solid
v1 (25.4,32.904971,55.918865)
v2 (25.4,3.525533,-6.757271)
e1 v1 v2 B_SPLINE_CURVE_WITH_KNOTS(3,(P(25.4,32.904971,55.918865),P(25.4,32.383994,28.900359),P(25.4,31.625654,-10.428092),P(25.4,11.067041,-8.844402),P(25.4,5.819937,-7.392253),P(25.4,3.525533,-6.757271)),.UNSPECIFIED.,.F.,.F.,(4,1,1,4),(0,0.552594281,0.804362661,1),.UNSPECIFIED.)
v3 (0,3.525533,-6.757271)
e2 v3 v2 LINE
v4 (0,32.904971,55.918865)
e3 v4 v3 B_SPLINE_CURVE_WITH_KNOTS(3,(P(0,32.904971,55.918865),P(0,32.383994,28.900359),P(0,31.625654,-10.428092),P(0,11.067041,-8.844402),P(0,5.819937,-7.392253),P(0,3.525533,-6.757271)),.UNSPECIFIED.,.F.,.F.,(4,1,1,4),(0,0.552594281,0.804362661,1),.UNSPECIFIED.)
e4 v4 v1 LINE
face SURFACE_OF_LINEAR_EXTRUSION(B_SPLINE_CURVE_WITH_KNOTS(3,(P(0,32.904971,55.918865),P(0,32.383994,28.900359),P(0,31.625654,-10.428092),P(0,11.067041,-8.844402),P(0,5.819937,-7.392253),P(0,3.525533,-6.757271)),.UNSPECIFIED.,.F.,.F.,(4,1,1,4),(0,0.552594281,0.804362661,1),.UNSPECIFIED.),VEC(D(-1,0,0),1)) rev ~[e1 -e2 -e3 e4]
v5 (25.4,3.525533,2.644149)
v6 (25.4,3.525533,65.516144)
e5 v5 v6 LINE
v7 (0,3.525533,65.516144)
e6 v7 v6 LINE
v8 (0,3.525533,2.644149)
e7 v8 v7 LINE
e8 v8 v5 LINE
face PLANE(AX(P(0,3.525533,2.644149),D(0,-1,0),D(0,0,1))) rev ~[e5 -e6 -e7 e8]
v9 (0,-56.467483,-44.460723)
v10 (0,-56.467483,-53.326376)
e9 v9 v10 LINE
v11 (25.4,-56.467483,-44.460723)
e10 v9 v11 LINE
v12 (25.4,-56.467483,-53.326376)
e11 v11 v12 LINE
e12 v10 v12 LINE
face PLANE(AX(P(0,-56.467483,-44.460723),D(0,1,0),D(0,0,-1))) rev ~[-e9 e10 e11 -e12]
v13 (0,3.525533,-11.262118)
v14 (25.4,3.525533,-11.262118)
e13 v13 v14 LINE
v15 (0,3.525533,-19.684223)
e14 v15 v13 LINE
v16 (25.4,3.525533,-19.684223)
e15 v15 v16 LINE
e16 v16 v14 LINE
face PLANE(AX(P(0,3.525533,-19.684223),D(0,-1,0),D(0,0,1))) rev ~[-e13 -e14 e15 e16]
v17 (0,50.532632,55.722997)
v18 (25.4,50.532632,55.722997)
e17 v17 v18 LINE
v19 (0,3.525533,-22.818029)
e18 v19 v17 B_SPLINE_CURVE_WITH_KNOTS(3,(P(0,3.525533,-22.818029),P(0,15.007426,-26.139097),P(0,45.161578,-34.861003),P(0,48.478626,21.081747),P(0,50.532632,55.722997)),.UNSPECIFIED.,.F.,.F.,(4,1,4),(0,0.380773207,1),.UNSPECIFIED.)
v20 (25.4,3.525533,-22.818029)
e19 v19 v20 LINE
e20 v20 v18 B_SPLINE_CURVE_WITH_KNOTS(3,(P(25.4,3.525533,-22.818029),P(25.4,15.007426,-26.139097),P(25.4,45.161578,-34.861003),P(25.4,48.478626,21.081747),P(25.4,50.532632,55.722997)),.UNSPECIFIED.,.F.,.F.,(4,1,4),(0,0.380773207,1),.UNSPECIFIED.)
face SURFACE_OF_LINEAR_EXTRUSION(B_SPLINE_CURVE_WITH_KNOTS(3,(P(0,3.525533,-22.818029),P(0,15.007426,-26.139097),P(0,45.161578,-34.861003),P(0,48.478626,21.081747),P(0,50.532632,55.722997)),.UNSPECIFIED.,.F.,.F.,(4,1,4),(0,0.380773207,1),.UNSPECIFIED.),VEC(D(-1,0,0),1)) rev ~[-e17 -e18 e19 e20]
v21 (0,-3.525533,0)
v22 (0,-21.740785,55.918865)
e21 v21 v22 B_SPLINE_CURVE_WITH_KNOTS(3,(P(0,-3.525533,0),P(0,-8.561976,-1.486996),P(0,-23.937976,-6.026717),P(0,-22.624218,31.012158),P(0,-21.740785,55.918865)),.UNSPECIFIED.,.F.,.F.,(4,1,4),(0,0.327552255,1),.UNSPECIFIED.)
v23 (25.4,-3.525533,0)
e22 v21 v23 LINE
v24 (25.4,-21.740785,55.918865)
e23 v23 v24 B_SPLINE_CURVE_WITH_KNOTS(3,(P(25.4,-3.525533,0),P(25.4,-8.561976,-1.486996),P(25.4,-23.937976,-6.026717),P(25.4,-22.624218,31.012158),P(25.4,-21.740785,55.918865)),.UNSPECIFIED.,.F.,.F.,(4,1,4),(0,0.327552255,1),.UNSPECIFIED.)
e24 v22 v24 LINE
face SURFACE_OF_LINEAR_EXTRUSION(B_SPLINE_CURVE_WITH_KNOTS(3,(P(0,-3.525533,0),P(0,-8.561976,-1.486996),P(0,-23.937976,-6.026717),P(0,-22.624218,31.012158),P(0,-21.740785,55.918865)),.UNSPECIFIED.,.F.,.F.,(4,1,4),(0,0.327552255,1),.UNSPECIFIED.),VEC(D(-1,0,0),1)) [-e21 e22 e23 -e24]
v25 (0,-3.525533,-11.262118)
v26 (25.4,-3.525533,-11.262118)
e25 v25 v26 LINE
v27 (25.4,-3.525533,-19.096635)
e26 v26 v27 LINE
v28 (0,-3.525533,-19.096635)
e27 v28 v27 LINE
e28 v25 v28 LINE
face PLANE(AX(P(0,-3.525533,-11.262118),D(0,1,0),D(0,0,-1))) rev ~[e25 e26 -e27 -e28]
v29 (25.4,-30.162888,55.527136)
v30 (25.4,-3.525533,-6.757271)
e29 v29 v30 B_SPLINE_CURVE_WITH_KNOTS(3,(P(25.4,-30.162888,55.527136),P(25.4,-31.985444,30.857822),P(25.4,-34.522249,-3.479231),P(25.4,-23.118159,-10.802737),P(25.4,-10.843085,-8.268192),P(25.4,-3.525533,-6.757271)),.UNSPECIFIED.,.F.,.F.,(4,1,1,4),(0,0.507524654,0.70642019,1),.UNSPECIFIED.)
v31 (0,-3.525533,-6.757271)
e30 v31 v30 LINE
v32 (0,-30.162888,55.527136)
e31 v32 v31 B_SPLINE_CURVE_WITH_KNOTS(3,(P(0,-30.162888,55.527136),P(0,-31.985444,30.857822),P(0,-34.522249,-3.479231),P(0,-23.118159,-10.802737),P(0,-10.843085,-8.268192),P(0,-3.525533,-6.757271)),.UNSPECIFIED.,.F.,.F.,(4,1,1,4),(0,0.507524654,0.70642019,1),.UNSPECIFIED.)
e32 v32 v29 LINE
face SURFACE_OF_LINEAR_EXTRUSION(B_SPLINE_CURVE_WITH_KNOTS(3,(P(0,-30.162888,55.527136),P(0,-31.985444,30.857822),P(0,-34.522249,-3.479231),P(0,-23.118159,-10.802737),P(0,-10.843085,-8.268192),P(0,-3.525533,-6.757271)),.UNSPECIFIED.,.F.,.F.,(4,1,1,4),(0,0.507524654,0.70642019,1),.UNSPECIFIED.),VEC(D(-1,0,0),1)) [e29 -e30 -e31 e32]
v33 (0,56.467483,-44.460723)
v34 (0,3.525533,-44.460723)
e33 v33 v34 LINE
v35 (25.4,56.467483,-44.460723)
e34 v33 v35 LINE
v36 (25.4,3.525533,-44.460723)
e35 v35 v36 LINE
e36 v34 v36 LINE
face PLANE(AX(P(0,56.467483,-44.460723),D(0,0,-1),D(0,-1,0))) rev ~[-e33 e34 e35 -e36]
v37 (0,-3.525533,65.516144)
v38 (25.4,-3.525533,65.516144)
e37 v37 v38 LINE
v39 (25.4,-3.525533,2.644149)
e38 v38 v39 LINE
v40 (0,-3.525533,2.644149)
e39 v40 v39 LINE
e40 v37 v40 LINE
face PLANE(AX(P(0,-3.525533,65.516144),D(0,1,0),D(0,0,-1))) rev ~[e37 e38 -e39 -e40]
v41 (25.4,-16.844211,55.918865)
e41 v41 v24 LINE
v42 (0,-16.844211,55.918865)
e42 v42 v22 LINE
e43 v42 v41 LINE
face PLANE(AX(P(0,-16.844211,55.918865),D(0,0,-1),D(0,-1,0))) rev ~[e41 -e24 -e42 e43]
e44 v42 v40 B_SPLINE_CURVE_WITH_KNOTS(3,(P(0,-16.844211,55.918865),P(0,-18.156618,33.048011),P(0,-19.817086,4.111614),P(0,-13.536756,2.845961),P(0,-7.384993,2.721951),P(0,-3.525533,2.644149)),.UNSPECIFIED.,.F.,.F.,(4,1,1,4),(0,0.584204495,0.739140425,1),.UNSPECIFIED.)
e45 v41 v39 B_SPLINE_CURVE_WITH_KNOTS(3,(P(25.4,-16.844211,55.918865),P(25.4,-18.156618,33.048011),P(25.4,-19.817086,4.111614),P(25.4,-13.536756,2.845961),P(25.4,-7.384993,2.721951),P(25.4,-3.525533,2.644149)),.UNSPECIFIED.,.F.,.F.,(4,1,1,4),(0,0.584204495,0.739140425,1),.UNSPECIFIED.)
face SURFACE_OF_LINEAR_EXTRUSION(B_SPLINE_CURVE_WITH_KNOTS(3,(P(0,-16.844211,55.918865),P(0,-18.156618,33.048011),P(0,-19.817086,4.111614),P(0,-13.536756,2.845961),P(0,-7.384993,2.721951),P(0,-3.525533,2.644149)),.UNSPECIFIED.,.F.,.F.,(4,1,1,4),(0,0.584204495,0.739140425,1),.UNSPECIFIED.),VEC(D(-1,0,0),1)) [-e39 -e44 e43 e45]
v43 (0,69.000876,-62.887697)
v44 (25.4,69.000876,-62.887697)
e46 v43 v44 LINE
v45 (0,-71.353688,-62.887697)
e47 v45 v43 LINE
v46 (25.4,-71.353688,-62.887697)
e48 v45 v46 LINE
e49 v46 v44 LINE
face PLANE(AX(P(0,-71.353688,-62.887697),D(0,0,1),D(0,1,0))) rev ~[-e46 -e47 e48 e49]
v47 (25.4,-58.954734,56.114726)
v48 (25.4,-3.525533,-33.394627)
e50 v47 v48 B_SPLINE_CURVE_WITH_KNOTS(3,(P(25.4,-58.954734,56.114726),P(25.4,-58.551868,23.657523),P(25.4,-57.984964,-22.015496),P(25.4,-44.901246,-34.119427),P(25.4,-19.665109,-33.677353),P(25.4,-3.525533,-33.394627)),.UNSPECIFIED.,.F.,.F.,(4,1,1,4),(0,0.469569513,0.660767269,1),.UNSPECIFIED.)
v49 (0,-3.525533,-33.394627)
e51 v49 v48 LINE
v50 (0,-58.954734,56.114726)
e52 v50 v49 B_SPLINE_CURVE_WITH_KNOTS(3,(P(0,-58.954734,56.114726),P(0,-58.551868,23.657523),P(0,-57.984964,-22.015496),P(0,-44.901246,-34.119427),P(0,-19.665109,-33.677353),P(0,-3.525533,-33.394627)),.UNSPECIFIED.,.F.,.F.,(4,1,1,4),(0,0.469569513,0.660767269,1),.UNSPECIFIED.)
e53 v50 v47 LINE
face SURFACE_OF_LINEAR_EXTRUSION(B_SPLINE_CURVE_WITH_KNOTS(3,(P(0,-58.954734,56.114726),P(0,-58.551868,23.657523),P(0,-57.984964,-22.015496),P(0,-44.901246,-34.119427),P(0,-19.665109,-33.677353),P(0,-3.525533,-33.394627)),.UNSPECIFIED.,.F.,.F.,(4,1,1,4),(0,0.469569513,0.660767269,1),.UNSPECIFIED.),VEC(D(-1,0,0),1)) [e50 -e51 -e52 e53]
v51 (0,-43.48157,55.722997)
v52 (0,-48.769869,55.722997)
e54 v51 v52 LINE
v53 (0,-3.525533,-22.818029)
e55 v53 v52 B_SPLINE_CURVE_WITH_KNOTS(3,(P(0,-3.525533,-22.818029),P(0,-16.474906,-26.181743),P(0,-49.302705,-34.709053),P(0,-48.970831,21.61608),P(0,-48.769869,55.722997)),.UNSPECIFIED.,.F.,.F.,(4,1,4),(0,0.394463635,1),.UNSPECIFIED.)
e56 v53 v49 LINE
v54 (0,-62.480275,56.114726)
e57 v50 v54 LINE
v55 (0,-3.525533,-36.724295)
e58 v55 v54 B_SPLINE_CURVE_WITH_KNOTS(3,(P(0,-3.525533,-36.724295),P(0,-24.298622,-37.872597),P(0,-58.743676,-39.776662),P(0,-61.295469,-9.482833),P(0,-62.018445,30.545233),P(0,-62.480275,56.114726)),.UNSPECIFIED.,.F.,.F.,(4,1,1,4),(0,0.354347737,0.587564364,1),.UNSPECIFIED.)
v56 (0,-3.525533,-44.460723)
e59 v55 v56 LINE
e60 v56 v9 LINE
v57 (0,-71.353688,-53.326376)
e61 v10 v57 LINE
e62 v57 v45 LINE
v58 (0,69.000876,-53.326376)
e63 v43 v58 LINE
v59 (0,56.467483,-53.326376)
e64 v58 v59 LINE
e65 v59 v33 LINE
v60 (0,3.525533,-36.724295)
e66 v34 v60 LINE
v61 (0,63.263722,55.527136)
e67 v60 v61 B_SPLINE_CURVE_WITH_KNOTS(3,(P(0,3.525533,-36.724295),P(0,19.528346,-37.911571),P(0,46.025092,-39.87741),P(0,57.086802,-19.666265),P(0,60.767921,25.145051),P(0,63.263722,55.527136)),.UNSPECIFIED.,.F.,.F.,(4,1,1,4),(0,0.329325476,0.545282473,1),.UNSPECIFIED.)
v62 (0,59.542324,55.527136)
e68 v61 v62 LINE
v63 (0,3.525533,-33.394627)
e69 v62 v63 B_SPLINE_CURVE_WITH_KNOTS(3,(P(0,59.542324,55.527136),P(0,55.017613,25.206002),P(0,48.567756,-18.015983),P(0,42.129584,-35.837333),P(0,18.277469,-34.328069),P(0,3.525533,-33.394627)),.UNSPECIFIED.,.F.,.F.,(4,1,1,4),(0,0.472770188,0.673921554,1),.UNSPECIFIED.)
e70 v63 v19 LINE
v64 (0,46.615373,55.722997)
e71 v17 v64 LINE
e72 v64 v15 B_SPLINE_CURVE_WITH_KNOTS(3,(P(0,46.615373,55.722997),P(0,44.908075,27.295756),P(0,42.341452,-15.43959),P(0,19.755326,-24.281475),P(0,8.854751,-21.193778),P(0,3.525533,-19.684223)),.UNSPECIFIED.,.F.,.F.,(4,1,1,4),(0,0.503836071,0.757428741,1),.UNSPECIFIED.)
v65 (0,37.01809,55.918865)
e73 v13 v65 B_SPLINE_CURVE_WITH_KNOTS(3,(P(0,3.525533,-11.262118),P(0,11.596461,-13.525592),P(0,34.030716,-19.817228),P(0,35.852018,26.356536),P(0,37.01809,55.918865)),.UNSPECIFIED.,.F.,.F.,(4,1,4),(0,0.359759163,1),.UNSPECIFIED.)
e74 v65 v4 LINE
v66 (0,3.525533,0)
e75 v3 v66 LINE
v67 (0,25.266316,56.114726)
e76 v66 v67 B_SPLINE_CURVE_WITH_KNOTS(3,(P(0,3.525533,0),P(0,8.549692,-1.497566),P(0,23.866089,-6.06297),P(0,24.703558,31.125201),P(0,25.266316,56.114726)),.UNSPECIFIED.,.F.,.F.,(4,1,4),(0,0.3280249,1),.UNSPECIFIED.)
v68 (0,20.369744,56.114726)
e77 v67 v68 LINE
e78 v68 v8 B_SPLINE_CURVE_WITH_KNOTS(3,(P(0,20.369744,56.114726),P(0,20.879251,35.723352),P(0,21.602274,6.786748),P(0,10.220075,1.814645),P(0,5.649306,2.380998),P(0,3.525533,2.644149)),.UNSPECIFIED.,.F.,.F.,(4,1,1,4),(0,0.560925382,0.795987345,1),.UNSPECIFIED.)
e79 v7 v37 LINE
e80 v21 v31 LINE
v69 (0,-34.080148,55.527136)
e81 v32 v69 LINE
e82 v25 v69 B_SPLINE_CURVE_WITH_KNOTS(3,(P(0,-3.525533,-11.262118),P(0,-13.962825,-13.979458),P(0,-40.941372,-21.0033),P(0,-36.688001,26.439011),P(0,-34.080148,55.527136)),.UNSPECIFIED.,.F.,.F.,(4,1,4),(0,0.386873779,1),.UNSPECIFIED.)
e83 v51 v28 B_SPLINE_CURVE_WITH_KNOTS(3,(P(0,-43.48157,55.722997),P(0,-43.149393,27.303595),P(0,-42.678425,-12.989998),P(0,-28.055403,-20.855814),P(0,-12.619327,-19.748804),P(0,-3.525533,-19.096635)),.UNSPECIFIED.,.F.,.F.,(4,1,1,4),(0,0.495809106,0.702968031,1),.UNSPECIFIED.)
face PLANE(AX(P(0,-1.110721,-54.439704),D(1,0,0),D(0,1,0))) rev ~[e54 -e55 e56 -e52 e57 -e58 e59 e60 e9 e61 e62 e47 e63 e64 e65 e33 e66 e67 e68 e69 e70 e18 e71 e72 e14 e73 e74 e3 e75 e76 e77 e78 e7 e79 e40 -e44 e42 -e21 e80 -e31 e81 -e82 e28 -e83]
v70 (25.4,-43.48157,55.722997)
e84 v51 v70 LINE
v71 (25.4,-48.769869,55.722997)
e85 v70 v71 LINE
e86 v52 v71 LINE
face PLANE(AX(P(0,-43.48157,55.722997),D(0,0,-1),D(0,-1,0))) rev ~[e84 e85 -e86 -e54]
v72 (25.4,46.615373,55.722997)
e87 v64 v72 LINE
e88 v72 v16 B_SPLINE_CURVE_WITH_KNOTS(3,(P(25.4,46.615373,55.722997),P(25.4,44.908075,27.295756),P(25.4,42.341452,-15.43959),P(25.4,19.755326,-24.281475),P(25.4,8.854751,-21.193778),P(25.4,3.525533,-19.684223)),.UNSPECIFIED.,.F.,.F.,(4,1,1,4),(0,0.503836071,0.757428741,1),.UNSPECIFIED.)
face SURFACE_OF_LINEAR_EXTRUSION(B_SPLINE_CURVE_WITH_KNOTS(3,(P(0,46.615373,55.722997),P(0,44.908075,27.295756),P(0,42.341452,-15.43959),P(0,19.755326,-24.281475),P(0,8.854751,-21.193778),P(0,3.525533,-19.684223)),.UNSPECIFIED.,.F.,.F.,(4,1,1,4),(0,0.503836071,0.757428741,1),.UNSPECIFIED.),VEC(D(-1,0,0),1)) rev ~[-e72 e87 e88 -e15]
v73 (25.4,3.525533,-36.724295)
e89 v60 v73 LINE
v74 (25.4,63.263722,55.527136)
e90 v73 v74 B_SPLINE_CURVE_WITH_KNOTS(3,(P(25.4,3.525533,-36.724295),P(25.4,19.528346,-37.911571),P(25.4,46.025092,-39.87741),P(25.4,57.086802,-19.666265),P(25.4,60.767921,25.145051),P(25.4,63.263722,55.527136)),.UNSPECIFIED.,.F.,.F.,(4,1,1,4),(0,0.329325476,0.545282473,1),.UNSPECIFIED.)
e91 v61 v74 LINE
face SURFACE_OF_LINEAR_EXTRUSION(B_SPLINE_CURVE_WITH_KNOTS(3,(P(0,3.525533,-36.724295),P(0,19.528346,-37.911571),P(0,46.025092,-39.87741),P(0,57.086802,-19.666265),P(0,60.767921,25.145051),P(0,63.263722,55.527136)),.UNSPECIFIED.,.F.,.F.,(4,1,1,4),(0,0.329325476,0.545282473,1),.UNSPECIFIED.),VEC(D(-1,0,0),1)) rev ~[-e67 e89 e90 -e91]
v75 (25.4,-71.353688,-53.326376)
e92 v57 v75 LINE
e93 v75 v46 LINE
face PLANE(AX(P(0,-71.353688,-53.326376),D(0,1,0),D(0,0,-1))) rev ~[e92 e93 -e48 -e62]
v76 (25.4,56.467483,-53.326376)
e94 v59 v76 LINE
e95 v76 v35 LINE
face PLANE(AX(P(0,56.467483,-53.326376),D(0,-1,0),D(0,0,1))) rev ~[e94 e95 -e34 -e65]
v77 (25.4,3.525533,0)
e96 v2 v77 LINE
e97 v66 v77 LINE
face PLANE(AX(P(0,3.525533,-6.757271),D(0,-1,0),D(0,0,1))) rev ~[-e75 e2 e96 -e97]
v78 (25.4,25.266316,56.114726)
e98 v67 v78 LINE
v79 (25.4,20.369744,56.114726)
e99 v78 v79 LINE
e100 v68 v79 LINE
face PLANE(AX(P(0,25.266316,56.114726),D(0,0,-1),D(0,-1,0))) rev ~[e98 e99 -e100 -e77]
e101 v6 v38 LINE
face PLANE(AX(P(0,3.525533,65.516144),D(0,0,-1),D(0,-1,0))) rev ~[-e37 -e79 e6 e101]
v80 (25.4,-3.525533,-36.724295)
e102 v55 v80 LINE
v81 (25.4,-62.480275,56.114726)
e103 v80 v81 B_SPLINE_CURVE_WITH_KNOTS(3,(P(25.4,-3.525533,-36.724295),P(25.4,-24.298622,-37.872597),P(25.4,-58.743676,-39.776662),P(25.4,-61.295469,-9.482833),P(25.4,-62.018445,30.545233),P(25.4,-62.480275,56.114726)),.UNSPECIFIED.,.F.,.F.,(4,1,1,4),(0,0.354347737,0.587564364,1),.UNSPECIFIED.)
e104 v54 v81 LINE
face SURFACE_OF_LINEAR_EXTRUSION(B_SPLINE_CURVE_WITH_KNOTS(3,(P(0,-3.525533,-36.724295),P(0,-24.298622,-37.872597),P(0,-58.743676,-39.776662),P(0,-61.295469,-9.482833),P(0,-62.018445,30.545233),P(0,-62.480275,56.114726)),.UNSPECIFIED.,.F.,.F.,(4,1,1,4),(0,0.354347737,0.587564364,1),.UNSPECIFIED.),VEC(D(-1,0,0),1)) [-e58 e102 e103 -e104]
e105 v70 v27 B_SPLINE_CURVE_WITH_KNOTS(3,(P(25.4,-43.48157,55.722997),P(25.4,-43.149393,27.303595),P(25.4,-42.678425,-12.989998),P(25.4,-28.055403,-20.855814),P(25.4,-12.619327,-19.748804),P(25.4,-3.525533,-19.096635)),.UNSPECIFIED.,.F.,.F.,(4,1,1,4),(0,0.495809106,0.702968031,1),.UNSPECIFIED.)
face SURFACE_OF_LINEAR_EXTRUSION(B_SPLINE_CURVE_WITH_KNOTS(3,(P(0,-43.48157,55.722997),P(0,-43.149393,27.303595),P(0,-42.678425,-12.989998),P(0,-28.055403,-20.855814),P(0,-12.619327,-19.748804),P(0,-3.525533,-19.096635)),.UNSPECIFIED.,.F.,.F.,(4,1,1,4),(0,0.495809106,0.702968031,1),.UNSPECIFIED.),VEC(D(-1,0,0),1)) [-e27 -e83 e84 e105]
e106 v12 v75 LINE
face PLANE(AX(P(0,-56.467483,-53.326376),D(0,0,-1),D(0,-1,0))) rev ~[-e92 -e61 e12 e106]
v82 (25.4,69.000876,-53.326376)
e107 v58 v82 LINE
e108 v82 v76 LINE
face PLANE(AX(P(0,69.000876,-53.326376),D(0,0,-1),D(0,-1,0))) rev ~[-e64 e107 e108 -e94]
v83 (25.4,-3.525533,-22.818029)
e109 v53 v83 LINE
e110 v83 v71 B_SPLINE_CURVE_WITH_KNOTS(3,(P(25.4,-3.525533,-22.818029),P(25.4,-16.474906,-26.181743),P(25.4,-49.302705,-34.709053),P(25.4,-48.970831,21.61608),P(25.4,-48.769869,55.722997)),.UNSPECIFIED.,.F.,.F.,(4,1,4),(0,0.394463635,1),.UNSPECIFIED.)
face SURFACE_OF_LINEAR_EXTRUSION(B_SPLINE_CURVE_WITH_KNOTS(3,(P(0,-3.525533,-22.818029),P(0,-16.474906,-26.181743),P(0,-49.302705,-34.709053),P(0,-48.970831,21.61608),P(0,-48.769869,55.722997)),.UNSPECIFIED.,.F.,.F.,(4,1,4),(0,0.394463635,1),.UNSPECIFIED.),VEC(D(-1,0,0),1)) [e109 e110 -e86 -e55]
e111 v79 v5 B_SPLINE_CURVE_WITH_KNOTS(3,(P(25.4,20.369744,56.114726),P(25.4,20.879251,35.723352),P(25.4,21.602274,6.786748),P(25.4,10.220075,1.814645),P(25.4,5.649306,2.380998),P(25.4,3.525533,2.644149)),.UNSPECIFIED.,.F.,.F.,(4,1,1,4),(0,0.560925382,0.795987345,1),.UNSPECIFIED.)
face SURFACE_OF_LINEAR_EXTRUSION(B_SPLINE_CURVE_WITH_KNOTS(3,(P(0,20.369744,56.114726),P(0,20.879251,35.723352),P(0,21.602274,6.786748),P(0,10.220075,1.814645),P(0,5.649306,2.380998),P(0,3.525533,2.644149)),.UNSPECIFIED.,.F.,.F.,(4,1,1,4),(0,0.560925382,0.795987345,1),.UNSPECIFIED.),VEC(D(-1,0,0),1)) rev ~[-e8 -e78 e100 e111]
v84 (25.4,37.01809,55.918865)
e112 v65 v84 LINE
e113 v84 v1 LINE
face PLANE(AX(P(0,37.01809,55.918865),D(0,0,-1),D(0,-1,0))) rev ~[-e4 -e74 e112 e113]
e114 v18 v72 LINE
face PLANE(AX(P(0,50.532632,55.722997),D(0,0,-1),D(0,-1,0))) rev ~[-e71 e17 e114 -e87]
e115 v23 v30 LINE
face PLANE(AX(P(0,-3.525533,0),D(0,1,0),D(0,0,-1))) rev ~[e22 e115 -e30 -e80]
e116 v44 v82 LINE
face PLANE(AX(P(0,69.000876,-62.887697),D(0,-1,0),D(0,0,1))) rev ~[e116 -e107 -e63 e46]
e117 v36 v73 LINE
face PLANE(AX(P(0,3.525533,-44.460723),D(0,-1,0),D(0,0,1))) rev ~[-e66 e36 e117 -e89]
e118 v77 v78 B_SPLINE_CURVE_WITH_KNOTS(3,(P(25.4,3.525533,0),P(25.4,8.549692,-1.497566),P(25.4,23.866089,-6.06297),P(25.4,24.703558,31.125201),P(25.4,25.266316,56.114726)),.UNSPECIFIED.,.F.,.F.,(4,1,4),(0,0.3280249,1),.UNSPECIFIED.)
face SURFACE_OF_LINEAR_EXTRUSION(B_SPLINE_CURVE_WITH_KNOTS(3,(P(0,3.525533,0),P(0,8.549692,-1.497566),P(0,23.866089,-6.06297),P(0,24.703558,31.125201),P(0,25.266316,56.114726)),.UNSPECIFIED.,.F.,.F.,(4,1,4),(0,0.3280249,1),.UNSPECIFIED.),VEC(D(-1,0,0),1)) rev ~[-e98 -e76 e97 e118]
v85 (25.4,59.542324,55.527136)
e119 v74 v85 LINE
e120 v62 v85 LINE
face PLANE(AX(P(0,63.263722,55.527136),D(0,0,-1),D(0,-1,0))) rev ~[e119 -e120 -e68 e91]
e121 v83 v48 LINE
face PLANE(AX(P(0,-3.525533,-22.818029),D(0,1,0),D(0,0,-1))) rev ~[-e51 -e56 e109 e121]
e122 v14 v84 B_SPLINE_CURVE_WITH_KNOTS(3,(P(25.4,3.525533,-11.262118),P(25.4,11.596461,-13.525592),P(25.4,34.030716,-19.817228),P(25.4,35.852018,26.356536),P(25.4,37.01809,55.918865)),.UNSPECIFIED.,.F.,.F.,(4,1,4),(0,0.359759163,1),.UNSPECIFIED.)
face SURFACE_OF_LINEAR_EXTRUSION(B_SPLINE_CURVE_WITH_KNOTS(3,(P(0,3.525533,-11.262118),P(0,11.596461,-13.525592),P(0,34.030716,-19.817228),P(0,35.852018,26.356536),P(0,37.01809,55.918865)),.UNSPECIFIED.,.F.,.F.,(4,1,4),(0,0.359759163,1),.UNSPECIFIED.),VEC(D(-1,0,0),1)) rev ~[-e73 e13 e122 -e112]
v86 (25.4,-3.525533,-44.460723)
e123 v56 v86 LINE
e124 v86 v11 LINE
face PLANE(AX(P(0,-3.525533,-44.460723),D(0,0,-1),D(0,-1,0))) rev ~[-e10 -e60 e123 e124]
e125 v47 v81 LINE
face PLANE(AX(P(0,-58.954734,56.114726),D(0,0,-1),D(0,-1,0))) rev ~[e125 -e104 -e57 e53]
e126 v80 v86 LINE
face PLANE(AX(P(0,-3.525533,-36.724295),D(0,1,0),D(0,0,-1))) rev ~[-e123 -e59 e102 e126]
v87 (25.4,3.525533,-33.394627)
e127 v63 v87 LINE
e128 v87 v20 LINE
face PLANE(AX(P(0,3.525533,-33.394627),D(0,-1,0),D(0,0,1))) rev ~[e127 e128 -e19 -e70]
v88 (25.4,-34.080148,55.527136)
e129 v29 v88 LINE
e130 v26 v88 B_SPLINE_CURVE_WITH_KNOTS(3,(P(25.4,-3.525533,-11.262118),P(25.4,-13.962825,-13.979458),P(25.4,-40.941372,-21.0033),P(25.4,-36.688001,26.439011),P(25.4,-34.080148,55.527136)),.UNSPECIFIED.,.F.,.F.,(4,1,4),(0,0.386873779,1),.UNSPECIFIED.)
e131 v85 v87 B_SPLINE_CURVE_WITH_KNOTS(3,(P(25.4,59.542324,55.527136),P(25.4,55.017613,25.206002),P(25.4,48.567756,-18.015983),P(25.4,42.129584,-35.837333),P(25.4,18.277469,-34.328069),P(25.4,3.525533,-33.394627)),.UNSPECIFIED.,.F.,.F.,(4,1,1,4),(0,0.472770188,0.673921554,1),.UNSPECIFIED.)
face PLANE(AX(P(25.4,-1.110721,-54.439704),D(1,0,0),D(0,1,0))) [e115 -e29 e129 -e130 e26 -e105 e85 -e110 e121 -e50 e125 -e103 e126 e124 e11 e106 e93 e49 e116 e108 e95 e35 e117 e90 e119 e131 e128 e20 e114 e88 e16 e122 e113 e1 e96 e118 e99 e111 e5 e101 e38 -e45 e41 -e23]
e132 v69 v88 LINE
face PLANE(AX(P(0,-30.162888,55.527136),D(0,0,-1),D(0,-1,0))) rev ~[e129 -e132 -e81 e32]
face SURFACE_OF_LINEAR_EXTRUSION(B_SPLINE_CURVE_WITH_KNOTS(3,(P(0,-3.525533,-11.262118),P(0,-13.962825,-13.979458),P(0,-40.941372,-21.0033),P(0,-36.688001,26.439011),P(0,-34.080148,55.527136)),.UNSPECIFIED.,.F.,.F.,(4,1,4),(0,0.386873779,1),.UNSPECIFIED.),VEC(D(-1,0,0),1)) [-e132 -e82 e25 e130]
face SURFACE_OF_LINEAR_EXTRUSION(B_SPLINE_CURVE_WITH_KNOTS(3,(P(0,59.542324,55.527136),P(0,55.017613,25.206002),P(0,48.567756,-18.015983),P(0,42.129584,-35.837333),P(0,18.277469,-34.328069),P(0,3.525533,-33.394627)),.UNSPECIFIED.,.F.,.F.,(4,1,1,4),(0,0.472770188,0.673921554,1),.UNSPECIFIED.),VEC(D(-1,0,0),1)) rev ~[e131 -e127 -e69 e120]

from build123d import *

# Parameters (mm, degrees)
F1_DEPTH = 25.4


with BuildPart() as f1:
    # F0 (on Right) → F1 (new body)
    with BuildSketch(Plane.YZ):
        Polygon((-71.3536882989, -62.8876967296), (69.0008763145, -62.8876967296), (69.0008763145, -53.3263756652), (56.4674834127, -53.3263756652), (56.4674834127, -44.460722529), (3.5255327821, -44.460722529), (-3.5255327821, -44.460722529), (-56.4674834127, -44.460722529), (-56.4674834127, -53.3263756652), (-71.3536882989, -53.3263756652), align=None)
        Polygon((-3.5255327821, -44.460722529), (3.5255327821, -44.460722529), (3.5255327821, -36.7242954671), (3.5255327821, -33.3946272731), (3.5255327821, -22.8180289268), (3.5255327821, -19.6842234582), (3.5255327821, -11.2621178851), (3.5255327821, -6.7572705448), (3.5255327821, 0), (3.5255327821, 2.6441493537), (3.5255327821, 55.5271357298), (3.5255327821, 65.5161440372), (-3.5255327821, 65.5161440372), (-3.5255327821, 55.5271357298), (-3.5255327821, 2.6441493537), (-3.5255327821, 0), (-3.5255327821, -6.7572705448), (-3.5255327821, -11.2621178851), (-3.5255327821, -19.096635282), (-3.5255327821, -22.8180289268), (-3.5255327821, -33.3946272731), (-3.5255327821, -36.7242954671), align=None)
        with BuildLine():
            Line((3.5255327821, -33.3946272731), (3.5255327821, -36.7242954671))
            add(Edge.make_bspline(
                [(3.5255327821, -36.7242954671), (19.5283458683, -37.9115714543), (46.0250919066, -39.8774102191), (57.086801682, -19.6662649434), (60.7679214598, 25.1450505181), (63.2637217641, 55.5271357298)],
                knots=[0, 0, 0, 0, 0.3293254758, 0.5452824731, 1, 1, 1, 1], degree=3))
            Line((63.2637217641, 55.5271357298), (59.542324394, 55.5271357298))
            add(Edge.make_bspline(
                [(59.542324394, 55.5271357298), (55.0176134141, 25.2060017822), (48.567756102, -18.0159826428), (42.1295842811, -35.83733265), (18.2774691458, -34.3280690461), (3.5255327821, -33.3946272731)],
                knots=[0, 0, 0, 0, 0.4727701883, 0.6739215543, 1, 1, 1, 1], degree=3))
        make_face()
        with BuildLine():
            add(Edge.make_bspline(
                [(-3.5255327821, -36.7242954671), (-24.2986218761, -37.8725969995), (-58.7436757829, -39.7766618214), (-61.2954694033, -9.4828326596), (-62.0184453958, 30.5452331605), (-62.4802745879, 56.1147257686)],
                knots=[0, 0, 0, 0, 0.3543477365, 0.5875643641, 1, 1, 1, 1], degree=3))
            Line((-3.5255327821, -36.7242954671), (-3.5255327821, -33.3946272731))
            add(Edge.make_bspline(
                [(-58.9547343552, 56.1147257686), (-58.5518682204, 23.6575228224), (-57.9849643897, -22.0154963092), (-44.9012456447, -34.1194273047), (-19.6651093216, -33.677352688), (-3.5255327821, -33.3946272731)],
                knots=[0, 0, 0, 0, 0.469569513, 0.6607672691, 1, 1, 1, 1], degree=3))
            Line((-58.9547343552, 56.1147257686), (-62.4802745879, 56.1147257686))
        make_face()
        with BuildLine():
            Line((3.5255327821, -19.6842234582), (3.5255327821, -22.8180289268))
            add(Edge.make_bspline(
                [(3.5255327821, -22.8180289268), (15.0074258417, -26.1390970683), (45.1615775397, -34.8610031178), (48.4786261835, 21.0817469198), (50.5326315761, 55.7229965925)],
                knots=[0, 0, 0, 0, 0.3807732074, 1, 1, 1, 1], degree=3))
            Line((50.5326315761, 55.7229965925), (46.6153733432, 55.7229965925))
            add(Edge.make_bspline(
                [(46.6153733432, 55.7229965925), (44.908074699, 27.2957561446), (42.3414520643, -15.4395901418), (19.7553258166, -24.281474601), (8.8547514125, -21.1937779169), (3.5255327821, -19.6842234582)],
                knots=[0, 0, 0, 0, 0.5038360705, 0.757428741, 1, 1, 1, 1], degree=3))
        make_face()
        with BuildLine():
            add(Edge.make_bspline(
                [(-3.5255327821, -22.8180289268), (-16.4749058597, -26.1817426868), (-49.3027052775, -34.7090528466), (-48.9708309091, 21.6160802328), (-48.7698689103, 55.7229965925)],
                knots=[0, 0, 0, 0, 0.3944636347, 1, 1, 1, 1], degree=3))
            Line((-3.5255327821, -22.8180289268), (-3.5255327821, -19.096635282))
            add(Edge.make_bspline(
                [(-43.4815697372, 55.7229965925), (-43.1493925226, 27.3035954994), (-42.6784250485, -12.9899976808), (-28.0554027813, -20.855813996), (-12.619326686, -19.7488037879), (-3.5255327821, -19.096635282)],
                knots=[0, 0, 0, 0, 0.4958091065, 0.7029680312, 1, 1, 1, 1], degree=3))
            Line((-43.4815697372, 55.7229965925), (-48.7698689103, 55.7229965925))
        make_face()
        with BuildLine():
            Line((3.5255327821, -6.7572705448), (3.5255327821, -11.2621178851))
            add(Edge.make_bspline(
                [(3.5255327821, -11.2621178851), (11.5964613447, -13.5255916132), (34.0307157026, -19.8172276939), (35.8520182308, 26.356535863), (37.0180904865, 55.9188649058)],
                knots=[0, 0, 0, 0, 0.3597591627, 1, 1, 1, 1], degree=3))
            Line((37.0180904865, 55.9188649058), (32.904971391, 55.9188649058))
            add(Edge.make_bspline(
                [(32.904971391, 55.9188649058), (32.383994158, 28.9003589611), (31.6256536405, -10.4280924226), (11.0670405767, -8.8444018794), (5.8199367134, -7.3922526292), (3.5255327821, -6.7572705448)],
                knots=[0, 0, 0, 0, 0.5525942812, 0.8043626605, 1, 1, 1, 1], degree=3))
        make_face()
        with BuildLine():
            add(Edge.make_bspline(
                [(-3.5255327821, -11.2621178851), (-13.9628252189, -13.979458265), (-40.9413722155, -21.0033004721), (-36.6880011003, 26.4390107496), (-34.0801477432, 55.5271357298)],
                knots=[0, 0, 0, 0, 0.3868737793, 1, 1, 1, 1], degree=3))
            Line((-3.5255327821, -11.2621178851), (-3.5255327821, -6.7572705448))
            add(Edge.make_bspline(
                [(-30.1628876477, 55.5271357298), (-31.985444285, 30.8578224877), (-34.5222487441, -3.4792305049), (-23.1181589343, -10.8027369268), (-10.8430847617, -8.2681915567), (-3.5255327821, -6.7572705448)],
                knots=[0, 0, 0, 0, 0.5075246544, 0.7064201903, 1, 1, 1, 1], degree=3))
            Line((-30.1628876477, 55.5271357298), (-34.0801477432, 55.5271357298))
        make_face()
        with BuildLine():
            Line((3.5255327821, 2.6441493537), (3.5255327821, 0))
            add(Edge.make_bspline(
                [(3.5255327821, 0), (8.5496923219, -1.4975662301), (23.8660891446, -6.0629703473), (24.703557743, 31.1252007713), (25.266315788, 56.1147257686)],
                knots=[0, 0, 0, 0, 0.3280249002, 1, 1, 1, 1], degree=3))
            Line((25.266315788, 56.1147257686), (20.3697439283, 56.1147257686))
            add(Edge.make_bspline(
                [(20.3697439283, 56.1147257686), (20.8792514929, 35.723351714), (21.6022738177, 6.7867476282), (10.2200746725, 1.8146451795), (5.6493055923, 2.3809979029), (3.5255327821, 2.6441493537)],
                knots=[0, 0, 0, 0, 0.5609253817, 0.7959873449, 1, 1, 1, 1], degree=3))
        make_face()
        with BuildLine():
            add(Edge.make_bspline(
                [(-3.5255327821, 0), (-8.5619762859, -1.4869958031), (-23.9379763758, -6.0267166565), (-22.6242184339, 31.0121575033), (-21.7407848686, 55.9188649058)],
                knots=[0, 0, 0, 0, 0.3275522551, 1, 1, 1, 1], degree=3))
            Line((-3.5255327821, 0), (-3.5255327821, 2.6441493537))
            add(Edge.make_bspline(
                [(-16.8442111462, 55.9188649058), (-18.1566177579, 33.0480107342), (-19.8170856078, 4.1116142591), (-13.5367557364, 2.8459613048), (-7.3849929996, 2.7219505575), (-3.5255327821, 2.6441493537)],
                knots=[0, 0, 0, 0, 0.5842044945, 0.7391404252, 1, 1, 1, 1], degree=3))
            Line((-16.8442111462, 55.9188649058), (-21.7407848686, 55.9188649058))
        make_face()
    extrude(amount=F1_DEPTH)


solid = f1.part
